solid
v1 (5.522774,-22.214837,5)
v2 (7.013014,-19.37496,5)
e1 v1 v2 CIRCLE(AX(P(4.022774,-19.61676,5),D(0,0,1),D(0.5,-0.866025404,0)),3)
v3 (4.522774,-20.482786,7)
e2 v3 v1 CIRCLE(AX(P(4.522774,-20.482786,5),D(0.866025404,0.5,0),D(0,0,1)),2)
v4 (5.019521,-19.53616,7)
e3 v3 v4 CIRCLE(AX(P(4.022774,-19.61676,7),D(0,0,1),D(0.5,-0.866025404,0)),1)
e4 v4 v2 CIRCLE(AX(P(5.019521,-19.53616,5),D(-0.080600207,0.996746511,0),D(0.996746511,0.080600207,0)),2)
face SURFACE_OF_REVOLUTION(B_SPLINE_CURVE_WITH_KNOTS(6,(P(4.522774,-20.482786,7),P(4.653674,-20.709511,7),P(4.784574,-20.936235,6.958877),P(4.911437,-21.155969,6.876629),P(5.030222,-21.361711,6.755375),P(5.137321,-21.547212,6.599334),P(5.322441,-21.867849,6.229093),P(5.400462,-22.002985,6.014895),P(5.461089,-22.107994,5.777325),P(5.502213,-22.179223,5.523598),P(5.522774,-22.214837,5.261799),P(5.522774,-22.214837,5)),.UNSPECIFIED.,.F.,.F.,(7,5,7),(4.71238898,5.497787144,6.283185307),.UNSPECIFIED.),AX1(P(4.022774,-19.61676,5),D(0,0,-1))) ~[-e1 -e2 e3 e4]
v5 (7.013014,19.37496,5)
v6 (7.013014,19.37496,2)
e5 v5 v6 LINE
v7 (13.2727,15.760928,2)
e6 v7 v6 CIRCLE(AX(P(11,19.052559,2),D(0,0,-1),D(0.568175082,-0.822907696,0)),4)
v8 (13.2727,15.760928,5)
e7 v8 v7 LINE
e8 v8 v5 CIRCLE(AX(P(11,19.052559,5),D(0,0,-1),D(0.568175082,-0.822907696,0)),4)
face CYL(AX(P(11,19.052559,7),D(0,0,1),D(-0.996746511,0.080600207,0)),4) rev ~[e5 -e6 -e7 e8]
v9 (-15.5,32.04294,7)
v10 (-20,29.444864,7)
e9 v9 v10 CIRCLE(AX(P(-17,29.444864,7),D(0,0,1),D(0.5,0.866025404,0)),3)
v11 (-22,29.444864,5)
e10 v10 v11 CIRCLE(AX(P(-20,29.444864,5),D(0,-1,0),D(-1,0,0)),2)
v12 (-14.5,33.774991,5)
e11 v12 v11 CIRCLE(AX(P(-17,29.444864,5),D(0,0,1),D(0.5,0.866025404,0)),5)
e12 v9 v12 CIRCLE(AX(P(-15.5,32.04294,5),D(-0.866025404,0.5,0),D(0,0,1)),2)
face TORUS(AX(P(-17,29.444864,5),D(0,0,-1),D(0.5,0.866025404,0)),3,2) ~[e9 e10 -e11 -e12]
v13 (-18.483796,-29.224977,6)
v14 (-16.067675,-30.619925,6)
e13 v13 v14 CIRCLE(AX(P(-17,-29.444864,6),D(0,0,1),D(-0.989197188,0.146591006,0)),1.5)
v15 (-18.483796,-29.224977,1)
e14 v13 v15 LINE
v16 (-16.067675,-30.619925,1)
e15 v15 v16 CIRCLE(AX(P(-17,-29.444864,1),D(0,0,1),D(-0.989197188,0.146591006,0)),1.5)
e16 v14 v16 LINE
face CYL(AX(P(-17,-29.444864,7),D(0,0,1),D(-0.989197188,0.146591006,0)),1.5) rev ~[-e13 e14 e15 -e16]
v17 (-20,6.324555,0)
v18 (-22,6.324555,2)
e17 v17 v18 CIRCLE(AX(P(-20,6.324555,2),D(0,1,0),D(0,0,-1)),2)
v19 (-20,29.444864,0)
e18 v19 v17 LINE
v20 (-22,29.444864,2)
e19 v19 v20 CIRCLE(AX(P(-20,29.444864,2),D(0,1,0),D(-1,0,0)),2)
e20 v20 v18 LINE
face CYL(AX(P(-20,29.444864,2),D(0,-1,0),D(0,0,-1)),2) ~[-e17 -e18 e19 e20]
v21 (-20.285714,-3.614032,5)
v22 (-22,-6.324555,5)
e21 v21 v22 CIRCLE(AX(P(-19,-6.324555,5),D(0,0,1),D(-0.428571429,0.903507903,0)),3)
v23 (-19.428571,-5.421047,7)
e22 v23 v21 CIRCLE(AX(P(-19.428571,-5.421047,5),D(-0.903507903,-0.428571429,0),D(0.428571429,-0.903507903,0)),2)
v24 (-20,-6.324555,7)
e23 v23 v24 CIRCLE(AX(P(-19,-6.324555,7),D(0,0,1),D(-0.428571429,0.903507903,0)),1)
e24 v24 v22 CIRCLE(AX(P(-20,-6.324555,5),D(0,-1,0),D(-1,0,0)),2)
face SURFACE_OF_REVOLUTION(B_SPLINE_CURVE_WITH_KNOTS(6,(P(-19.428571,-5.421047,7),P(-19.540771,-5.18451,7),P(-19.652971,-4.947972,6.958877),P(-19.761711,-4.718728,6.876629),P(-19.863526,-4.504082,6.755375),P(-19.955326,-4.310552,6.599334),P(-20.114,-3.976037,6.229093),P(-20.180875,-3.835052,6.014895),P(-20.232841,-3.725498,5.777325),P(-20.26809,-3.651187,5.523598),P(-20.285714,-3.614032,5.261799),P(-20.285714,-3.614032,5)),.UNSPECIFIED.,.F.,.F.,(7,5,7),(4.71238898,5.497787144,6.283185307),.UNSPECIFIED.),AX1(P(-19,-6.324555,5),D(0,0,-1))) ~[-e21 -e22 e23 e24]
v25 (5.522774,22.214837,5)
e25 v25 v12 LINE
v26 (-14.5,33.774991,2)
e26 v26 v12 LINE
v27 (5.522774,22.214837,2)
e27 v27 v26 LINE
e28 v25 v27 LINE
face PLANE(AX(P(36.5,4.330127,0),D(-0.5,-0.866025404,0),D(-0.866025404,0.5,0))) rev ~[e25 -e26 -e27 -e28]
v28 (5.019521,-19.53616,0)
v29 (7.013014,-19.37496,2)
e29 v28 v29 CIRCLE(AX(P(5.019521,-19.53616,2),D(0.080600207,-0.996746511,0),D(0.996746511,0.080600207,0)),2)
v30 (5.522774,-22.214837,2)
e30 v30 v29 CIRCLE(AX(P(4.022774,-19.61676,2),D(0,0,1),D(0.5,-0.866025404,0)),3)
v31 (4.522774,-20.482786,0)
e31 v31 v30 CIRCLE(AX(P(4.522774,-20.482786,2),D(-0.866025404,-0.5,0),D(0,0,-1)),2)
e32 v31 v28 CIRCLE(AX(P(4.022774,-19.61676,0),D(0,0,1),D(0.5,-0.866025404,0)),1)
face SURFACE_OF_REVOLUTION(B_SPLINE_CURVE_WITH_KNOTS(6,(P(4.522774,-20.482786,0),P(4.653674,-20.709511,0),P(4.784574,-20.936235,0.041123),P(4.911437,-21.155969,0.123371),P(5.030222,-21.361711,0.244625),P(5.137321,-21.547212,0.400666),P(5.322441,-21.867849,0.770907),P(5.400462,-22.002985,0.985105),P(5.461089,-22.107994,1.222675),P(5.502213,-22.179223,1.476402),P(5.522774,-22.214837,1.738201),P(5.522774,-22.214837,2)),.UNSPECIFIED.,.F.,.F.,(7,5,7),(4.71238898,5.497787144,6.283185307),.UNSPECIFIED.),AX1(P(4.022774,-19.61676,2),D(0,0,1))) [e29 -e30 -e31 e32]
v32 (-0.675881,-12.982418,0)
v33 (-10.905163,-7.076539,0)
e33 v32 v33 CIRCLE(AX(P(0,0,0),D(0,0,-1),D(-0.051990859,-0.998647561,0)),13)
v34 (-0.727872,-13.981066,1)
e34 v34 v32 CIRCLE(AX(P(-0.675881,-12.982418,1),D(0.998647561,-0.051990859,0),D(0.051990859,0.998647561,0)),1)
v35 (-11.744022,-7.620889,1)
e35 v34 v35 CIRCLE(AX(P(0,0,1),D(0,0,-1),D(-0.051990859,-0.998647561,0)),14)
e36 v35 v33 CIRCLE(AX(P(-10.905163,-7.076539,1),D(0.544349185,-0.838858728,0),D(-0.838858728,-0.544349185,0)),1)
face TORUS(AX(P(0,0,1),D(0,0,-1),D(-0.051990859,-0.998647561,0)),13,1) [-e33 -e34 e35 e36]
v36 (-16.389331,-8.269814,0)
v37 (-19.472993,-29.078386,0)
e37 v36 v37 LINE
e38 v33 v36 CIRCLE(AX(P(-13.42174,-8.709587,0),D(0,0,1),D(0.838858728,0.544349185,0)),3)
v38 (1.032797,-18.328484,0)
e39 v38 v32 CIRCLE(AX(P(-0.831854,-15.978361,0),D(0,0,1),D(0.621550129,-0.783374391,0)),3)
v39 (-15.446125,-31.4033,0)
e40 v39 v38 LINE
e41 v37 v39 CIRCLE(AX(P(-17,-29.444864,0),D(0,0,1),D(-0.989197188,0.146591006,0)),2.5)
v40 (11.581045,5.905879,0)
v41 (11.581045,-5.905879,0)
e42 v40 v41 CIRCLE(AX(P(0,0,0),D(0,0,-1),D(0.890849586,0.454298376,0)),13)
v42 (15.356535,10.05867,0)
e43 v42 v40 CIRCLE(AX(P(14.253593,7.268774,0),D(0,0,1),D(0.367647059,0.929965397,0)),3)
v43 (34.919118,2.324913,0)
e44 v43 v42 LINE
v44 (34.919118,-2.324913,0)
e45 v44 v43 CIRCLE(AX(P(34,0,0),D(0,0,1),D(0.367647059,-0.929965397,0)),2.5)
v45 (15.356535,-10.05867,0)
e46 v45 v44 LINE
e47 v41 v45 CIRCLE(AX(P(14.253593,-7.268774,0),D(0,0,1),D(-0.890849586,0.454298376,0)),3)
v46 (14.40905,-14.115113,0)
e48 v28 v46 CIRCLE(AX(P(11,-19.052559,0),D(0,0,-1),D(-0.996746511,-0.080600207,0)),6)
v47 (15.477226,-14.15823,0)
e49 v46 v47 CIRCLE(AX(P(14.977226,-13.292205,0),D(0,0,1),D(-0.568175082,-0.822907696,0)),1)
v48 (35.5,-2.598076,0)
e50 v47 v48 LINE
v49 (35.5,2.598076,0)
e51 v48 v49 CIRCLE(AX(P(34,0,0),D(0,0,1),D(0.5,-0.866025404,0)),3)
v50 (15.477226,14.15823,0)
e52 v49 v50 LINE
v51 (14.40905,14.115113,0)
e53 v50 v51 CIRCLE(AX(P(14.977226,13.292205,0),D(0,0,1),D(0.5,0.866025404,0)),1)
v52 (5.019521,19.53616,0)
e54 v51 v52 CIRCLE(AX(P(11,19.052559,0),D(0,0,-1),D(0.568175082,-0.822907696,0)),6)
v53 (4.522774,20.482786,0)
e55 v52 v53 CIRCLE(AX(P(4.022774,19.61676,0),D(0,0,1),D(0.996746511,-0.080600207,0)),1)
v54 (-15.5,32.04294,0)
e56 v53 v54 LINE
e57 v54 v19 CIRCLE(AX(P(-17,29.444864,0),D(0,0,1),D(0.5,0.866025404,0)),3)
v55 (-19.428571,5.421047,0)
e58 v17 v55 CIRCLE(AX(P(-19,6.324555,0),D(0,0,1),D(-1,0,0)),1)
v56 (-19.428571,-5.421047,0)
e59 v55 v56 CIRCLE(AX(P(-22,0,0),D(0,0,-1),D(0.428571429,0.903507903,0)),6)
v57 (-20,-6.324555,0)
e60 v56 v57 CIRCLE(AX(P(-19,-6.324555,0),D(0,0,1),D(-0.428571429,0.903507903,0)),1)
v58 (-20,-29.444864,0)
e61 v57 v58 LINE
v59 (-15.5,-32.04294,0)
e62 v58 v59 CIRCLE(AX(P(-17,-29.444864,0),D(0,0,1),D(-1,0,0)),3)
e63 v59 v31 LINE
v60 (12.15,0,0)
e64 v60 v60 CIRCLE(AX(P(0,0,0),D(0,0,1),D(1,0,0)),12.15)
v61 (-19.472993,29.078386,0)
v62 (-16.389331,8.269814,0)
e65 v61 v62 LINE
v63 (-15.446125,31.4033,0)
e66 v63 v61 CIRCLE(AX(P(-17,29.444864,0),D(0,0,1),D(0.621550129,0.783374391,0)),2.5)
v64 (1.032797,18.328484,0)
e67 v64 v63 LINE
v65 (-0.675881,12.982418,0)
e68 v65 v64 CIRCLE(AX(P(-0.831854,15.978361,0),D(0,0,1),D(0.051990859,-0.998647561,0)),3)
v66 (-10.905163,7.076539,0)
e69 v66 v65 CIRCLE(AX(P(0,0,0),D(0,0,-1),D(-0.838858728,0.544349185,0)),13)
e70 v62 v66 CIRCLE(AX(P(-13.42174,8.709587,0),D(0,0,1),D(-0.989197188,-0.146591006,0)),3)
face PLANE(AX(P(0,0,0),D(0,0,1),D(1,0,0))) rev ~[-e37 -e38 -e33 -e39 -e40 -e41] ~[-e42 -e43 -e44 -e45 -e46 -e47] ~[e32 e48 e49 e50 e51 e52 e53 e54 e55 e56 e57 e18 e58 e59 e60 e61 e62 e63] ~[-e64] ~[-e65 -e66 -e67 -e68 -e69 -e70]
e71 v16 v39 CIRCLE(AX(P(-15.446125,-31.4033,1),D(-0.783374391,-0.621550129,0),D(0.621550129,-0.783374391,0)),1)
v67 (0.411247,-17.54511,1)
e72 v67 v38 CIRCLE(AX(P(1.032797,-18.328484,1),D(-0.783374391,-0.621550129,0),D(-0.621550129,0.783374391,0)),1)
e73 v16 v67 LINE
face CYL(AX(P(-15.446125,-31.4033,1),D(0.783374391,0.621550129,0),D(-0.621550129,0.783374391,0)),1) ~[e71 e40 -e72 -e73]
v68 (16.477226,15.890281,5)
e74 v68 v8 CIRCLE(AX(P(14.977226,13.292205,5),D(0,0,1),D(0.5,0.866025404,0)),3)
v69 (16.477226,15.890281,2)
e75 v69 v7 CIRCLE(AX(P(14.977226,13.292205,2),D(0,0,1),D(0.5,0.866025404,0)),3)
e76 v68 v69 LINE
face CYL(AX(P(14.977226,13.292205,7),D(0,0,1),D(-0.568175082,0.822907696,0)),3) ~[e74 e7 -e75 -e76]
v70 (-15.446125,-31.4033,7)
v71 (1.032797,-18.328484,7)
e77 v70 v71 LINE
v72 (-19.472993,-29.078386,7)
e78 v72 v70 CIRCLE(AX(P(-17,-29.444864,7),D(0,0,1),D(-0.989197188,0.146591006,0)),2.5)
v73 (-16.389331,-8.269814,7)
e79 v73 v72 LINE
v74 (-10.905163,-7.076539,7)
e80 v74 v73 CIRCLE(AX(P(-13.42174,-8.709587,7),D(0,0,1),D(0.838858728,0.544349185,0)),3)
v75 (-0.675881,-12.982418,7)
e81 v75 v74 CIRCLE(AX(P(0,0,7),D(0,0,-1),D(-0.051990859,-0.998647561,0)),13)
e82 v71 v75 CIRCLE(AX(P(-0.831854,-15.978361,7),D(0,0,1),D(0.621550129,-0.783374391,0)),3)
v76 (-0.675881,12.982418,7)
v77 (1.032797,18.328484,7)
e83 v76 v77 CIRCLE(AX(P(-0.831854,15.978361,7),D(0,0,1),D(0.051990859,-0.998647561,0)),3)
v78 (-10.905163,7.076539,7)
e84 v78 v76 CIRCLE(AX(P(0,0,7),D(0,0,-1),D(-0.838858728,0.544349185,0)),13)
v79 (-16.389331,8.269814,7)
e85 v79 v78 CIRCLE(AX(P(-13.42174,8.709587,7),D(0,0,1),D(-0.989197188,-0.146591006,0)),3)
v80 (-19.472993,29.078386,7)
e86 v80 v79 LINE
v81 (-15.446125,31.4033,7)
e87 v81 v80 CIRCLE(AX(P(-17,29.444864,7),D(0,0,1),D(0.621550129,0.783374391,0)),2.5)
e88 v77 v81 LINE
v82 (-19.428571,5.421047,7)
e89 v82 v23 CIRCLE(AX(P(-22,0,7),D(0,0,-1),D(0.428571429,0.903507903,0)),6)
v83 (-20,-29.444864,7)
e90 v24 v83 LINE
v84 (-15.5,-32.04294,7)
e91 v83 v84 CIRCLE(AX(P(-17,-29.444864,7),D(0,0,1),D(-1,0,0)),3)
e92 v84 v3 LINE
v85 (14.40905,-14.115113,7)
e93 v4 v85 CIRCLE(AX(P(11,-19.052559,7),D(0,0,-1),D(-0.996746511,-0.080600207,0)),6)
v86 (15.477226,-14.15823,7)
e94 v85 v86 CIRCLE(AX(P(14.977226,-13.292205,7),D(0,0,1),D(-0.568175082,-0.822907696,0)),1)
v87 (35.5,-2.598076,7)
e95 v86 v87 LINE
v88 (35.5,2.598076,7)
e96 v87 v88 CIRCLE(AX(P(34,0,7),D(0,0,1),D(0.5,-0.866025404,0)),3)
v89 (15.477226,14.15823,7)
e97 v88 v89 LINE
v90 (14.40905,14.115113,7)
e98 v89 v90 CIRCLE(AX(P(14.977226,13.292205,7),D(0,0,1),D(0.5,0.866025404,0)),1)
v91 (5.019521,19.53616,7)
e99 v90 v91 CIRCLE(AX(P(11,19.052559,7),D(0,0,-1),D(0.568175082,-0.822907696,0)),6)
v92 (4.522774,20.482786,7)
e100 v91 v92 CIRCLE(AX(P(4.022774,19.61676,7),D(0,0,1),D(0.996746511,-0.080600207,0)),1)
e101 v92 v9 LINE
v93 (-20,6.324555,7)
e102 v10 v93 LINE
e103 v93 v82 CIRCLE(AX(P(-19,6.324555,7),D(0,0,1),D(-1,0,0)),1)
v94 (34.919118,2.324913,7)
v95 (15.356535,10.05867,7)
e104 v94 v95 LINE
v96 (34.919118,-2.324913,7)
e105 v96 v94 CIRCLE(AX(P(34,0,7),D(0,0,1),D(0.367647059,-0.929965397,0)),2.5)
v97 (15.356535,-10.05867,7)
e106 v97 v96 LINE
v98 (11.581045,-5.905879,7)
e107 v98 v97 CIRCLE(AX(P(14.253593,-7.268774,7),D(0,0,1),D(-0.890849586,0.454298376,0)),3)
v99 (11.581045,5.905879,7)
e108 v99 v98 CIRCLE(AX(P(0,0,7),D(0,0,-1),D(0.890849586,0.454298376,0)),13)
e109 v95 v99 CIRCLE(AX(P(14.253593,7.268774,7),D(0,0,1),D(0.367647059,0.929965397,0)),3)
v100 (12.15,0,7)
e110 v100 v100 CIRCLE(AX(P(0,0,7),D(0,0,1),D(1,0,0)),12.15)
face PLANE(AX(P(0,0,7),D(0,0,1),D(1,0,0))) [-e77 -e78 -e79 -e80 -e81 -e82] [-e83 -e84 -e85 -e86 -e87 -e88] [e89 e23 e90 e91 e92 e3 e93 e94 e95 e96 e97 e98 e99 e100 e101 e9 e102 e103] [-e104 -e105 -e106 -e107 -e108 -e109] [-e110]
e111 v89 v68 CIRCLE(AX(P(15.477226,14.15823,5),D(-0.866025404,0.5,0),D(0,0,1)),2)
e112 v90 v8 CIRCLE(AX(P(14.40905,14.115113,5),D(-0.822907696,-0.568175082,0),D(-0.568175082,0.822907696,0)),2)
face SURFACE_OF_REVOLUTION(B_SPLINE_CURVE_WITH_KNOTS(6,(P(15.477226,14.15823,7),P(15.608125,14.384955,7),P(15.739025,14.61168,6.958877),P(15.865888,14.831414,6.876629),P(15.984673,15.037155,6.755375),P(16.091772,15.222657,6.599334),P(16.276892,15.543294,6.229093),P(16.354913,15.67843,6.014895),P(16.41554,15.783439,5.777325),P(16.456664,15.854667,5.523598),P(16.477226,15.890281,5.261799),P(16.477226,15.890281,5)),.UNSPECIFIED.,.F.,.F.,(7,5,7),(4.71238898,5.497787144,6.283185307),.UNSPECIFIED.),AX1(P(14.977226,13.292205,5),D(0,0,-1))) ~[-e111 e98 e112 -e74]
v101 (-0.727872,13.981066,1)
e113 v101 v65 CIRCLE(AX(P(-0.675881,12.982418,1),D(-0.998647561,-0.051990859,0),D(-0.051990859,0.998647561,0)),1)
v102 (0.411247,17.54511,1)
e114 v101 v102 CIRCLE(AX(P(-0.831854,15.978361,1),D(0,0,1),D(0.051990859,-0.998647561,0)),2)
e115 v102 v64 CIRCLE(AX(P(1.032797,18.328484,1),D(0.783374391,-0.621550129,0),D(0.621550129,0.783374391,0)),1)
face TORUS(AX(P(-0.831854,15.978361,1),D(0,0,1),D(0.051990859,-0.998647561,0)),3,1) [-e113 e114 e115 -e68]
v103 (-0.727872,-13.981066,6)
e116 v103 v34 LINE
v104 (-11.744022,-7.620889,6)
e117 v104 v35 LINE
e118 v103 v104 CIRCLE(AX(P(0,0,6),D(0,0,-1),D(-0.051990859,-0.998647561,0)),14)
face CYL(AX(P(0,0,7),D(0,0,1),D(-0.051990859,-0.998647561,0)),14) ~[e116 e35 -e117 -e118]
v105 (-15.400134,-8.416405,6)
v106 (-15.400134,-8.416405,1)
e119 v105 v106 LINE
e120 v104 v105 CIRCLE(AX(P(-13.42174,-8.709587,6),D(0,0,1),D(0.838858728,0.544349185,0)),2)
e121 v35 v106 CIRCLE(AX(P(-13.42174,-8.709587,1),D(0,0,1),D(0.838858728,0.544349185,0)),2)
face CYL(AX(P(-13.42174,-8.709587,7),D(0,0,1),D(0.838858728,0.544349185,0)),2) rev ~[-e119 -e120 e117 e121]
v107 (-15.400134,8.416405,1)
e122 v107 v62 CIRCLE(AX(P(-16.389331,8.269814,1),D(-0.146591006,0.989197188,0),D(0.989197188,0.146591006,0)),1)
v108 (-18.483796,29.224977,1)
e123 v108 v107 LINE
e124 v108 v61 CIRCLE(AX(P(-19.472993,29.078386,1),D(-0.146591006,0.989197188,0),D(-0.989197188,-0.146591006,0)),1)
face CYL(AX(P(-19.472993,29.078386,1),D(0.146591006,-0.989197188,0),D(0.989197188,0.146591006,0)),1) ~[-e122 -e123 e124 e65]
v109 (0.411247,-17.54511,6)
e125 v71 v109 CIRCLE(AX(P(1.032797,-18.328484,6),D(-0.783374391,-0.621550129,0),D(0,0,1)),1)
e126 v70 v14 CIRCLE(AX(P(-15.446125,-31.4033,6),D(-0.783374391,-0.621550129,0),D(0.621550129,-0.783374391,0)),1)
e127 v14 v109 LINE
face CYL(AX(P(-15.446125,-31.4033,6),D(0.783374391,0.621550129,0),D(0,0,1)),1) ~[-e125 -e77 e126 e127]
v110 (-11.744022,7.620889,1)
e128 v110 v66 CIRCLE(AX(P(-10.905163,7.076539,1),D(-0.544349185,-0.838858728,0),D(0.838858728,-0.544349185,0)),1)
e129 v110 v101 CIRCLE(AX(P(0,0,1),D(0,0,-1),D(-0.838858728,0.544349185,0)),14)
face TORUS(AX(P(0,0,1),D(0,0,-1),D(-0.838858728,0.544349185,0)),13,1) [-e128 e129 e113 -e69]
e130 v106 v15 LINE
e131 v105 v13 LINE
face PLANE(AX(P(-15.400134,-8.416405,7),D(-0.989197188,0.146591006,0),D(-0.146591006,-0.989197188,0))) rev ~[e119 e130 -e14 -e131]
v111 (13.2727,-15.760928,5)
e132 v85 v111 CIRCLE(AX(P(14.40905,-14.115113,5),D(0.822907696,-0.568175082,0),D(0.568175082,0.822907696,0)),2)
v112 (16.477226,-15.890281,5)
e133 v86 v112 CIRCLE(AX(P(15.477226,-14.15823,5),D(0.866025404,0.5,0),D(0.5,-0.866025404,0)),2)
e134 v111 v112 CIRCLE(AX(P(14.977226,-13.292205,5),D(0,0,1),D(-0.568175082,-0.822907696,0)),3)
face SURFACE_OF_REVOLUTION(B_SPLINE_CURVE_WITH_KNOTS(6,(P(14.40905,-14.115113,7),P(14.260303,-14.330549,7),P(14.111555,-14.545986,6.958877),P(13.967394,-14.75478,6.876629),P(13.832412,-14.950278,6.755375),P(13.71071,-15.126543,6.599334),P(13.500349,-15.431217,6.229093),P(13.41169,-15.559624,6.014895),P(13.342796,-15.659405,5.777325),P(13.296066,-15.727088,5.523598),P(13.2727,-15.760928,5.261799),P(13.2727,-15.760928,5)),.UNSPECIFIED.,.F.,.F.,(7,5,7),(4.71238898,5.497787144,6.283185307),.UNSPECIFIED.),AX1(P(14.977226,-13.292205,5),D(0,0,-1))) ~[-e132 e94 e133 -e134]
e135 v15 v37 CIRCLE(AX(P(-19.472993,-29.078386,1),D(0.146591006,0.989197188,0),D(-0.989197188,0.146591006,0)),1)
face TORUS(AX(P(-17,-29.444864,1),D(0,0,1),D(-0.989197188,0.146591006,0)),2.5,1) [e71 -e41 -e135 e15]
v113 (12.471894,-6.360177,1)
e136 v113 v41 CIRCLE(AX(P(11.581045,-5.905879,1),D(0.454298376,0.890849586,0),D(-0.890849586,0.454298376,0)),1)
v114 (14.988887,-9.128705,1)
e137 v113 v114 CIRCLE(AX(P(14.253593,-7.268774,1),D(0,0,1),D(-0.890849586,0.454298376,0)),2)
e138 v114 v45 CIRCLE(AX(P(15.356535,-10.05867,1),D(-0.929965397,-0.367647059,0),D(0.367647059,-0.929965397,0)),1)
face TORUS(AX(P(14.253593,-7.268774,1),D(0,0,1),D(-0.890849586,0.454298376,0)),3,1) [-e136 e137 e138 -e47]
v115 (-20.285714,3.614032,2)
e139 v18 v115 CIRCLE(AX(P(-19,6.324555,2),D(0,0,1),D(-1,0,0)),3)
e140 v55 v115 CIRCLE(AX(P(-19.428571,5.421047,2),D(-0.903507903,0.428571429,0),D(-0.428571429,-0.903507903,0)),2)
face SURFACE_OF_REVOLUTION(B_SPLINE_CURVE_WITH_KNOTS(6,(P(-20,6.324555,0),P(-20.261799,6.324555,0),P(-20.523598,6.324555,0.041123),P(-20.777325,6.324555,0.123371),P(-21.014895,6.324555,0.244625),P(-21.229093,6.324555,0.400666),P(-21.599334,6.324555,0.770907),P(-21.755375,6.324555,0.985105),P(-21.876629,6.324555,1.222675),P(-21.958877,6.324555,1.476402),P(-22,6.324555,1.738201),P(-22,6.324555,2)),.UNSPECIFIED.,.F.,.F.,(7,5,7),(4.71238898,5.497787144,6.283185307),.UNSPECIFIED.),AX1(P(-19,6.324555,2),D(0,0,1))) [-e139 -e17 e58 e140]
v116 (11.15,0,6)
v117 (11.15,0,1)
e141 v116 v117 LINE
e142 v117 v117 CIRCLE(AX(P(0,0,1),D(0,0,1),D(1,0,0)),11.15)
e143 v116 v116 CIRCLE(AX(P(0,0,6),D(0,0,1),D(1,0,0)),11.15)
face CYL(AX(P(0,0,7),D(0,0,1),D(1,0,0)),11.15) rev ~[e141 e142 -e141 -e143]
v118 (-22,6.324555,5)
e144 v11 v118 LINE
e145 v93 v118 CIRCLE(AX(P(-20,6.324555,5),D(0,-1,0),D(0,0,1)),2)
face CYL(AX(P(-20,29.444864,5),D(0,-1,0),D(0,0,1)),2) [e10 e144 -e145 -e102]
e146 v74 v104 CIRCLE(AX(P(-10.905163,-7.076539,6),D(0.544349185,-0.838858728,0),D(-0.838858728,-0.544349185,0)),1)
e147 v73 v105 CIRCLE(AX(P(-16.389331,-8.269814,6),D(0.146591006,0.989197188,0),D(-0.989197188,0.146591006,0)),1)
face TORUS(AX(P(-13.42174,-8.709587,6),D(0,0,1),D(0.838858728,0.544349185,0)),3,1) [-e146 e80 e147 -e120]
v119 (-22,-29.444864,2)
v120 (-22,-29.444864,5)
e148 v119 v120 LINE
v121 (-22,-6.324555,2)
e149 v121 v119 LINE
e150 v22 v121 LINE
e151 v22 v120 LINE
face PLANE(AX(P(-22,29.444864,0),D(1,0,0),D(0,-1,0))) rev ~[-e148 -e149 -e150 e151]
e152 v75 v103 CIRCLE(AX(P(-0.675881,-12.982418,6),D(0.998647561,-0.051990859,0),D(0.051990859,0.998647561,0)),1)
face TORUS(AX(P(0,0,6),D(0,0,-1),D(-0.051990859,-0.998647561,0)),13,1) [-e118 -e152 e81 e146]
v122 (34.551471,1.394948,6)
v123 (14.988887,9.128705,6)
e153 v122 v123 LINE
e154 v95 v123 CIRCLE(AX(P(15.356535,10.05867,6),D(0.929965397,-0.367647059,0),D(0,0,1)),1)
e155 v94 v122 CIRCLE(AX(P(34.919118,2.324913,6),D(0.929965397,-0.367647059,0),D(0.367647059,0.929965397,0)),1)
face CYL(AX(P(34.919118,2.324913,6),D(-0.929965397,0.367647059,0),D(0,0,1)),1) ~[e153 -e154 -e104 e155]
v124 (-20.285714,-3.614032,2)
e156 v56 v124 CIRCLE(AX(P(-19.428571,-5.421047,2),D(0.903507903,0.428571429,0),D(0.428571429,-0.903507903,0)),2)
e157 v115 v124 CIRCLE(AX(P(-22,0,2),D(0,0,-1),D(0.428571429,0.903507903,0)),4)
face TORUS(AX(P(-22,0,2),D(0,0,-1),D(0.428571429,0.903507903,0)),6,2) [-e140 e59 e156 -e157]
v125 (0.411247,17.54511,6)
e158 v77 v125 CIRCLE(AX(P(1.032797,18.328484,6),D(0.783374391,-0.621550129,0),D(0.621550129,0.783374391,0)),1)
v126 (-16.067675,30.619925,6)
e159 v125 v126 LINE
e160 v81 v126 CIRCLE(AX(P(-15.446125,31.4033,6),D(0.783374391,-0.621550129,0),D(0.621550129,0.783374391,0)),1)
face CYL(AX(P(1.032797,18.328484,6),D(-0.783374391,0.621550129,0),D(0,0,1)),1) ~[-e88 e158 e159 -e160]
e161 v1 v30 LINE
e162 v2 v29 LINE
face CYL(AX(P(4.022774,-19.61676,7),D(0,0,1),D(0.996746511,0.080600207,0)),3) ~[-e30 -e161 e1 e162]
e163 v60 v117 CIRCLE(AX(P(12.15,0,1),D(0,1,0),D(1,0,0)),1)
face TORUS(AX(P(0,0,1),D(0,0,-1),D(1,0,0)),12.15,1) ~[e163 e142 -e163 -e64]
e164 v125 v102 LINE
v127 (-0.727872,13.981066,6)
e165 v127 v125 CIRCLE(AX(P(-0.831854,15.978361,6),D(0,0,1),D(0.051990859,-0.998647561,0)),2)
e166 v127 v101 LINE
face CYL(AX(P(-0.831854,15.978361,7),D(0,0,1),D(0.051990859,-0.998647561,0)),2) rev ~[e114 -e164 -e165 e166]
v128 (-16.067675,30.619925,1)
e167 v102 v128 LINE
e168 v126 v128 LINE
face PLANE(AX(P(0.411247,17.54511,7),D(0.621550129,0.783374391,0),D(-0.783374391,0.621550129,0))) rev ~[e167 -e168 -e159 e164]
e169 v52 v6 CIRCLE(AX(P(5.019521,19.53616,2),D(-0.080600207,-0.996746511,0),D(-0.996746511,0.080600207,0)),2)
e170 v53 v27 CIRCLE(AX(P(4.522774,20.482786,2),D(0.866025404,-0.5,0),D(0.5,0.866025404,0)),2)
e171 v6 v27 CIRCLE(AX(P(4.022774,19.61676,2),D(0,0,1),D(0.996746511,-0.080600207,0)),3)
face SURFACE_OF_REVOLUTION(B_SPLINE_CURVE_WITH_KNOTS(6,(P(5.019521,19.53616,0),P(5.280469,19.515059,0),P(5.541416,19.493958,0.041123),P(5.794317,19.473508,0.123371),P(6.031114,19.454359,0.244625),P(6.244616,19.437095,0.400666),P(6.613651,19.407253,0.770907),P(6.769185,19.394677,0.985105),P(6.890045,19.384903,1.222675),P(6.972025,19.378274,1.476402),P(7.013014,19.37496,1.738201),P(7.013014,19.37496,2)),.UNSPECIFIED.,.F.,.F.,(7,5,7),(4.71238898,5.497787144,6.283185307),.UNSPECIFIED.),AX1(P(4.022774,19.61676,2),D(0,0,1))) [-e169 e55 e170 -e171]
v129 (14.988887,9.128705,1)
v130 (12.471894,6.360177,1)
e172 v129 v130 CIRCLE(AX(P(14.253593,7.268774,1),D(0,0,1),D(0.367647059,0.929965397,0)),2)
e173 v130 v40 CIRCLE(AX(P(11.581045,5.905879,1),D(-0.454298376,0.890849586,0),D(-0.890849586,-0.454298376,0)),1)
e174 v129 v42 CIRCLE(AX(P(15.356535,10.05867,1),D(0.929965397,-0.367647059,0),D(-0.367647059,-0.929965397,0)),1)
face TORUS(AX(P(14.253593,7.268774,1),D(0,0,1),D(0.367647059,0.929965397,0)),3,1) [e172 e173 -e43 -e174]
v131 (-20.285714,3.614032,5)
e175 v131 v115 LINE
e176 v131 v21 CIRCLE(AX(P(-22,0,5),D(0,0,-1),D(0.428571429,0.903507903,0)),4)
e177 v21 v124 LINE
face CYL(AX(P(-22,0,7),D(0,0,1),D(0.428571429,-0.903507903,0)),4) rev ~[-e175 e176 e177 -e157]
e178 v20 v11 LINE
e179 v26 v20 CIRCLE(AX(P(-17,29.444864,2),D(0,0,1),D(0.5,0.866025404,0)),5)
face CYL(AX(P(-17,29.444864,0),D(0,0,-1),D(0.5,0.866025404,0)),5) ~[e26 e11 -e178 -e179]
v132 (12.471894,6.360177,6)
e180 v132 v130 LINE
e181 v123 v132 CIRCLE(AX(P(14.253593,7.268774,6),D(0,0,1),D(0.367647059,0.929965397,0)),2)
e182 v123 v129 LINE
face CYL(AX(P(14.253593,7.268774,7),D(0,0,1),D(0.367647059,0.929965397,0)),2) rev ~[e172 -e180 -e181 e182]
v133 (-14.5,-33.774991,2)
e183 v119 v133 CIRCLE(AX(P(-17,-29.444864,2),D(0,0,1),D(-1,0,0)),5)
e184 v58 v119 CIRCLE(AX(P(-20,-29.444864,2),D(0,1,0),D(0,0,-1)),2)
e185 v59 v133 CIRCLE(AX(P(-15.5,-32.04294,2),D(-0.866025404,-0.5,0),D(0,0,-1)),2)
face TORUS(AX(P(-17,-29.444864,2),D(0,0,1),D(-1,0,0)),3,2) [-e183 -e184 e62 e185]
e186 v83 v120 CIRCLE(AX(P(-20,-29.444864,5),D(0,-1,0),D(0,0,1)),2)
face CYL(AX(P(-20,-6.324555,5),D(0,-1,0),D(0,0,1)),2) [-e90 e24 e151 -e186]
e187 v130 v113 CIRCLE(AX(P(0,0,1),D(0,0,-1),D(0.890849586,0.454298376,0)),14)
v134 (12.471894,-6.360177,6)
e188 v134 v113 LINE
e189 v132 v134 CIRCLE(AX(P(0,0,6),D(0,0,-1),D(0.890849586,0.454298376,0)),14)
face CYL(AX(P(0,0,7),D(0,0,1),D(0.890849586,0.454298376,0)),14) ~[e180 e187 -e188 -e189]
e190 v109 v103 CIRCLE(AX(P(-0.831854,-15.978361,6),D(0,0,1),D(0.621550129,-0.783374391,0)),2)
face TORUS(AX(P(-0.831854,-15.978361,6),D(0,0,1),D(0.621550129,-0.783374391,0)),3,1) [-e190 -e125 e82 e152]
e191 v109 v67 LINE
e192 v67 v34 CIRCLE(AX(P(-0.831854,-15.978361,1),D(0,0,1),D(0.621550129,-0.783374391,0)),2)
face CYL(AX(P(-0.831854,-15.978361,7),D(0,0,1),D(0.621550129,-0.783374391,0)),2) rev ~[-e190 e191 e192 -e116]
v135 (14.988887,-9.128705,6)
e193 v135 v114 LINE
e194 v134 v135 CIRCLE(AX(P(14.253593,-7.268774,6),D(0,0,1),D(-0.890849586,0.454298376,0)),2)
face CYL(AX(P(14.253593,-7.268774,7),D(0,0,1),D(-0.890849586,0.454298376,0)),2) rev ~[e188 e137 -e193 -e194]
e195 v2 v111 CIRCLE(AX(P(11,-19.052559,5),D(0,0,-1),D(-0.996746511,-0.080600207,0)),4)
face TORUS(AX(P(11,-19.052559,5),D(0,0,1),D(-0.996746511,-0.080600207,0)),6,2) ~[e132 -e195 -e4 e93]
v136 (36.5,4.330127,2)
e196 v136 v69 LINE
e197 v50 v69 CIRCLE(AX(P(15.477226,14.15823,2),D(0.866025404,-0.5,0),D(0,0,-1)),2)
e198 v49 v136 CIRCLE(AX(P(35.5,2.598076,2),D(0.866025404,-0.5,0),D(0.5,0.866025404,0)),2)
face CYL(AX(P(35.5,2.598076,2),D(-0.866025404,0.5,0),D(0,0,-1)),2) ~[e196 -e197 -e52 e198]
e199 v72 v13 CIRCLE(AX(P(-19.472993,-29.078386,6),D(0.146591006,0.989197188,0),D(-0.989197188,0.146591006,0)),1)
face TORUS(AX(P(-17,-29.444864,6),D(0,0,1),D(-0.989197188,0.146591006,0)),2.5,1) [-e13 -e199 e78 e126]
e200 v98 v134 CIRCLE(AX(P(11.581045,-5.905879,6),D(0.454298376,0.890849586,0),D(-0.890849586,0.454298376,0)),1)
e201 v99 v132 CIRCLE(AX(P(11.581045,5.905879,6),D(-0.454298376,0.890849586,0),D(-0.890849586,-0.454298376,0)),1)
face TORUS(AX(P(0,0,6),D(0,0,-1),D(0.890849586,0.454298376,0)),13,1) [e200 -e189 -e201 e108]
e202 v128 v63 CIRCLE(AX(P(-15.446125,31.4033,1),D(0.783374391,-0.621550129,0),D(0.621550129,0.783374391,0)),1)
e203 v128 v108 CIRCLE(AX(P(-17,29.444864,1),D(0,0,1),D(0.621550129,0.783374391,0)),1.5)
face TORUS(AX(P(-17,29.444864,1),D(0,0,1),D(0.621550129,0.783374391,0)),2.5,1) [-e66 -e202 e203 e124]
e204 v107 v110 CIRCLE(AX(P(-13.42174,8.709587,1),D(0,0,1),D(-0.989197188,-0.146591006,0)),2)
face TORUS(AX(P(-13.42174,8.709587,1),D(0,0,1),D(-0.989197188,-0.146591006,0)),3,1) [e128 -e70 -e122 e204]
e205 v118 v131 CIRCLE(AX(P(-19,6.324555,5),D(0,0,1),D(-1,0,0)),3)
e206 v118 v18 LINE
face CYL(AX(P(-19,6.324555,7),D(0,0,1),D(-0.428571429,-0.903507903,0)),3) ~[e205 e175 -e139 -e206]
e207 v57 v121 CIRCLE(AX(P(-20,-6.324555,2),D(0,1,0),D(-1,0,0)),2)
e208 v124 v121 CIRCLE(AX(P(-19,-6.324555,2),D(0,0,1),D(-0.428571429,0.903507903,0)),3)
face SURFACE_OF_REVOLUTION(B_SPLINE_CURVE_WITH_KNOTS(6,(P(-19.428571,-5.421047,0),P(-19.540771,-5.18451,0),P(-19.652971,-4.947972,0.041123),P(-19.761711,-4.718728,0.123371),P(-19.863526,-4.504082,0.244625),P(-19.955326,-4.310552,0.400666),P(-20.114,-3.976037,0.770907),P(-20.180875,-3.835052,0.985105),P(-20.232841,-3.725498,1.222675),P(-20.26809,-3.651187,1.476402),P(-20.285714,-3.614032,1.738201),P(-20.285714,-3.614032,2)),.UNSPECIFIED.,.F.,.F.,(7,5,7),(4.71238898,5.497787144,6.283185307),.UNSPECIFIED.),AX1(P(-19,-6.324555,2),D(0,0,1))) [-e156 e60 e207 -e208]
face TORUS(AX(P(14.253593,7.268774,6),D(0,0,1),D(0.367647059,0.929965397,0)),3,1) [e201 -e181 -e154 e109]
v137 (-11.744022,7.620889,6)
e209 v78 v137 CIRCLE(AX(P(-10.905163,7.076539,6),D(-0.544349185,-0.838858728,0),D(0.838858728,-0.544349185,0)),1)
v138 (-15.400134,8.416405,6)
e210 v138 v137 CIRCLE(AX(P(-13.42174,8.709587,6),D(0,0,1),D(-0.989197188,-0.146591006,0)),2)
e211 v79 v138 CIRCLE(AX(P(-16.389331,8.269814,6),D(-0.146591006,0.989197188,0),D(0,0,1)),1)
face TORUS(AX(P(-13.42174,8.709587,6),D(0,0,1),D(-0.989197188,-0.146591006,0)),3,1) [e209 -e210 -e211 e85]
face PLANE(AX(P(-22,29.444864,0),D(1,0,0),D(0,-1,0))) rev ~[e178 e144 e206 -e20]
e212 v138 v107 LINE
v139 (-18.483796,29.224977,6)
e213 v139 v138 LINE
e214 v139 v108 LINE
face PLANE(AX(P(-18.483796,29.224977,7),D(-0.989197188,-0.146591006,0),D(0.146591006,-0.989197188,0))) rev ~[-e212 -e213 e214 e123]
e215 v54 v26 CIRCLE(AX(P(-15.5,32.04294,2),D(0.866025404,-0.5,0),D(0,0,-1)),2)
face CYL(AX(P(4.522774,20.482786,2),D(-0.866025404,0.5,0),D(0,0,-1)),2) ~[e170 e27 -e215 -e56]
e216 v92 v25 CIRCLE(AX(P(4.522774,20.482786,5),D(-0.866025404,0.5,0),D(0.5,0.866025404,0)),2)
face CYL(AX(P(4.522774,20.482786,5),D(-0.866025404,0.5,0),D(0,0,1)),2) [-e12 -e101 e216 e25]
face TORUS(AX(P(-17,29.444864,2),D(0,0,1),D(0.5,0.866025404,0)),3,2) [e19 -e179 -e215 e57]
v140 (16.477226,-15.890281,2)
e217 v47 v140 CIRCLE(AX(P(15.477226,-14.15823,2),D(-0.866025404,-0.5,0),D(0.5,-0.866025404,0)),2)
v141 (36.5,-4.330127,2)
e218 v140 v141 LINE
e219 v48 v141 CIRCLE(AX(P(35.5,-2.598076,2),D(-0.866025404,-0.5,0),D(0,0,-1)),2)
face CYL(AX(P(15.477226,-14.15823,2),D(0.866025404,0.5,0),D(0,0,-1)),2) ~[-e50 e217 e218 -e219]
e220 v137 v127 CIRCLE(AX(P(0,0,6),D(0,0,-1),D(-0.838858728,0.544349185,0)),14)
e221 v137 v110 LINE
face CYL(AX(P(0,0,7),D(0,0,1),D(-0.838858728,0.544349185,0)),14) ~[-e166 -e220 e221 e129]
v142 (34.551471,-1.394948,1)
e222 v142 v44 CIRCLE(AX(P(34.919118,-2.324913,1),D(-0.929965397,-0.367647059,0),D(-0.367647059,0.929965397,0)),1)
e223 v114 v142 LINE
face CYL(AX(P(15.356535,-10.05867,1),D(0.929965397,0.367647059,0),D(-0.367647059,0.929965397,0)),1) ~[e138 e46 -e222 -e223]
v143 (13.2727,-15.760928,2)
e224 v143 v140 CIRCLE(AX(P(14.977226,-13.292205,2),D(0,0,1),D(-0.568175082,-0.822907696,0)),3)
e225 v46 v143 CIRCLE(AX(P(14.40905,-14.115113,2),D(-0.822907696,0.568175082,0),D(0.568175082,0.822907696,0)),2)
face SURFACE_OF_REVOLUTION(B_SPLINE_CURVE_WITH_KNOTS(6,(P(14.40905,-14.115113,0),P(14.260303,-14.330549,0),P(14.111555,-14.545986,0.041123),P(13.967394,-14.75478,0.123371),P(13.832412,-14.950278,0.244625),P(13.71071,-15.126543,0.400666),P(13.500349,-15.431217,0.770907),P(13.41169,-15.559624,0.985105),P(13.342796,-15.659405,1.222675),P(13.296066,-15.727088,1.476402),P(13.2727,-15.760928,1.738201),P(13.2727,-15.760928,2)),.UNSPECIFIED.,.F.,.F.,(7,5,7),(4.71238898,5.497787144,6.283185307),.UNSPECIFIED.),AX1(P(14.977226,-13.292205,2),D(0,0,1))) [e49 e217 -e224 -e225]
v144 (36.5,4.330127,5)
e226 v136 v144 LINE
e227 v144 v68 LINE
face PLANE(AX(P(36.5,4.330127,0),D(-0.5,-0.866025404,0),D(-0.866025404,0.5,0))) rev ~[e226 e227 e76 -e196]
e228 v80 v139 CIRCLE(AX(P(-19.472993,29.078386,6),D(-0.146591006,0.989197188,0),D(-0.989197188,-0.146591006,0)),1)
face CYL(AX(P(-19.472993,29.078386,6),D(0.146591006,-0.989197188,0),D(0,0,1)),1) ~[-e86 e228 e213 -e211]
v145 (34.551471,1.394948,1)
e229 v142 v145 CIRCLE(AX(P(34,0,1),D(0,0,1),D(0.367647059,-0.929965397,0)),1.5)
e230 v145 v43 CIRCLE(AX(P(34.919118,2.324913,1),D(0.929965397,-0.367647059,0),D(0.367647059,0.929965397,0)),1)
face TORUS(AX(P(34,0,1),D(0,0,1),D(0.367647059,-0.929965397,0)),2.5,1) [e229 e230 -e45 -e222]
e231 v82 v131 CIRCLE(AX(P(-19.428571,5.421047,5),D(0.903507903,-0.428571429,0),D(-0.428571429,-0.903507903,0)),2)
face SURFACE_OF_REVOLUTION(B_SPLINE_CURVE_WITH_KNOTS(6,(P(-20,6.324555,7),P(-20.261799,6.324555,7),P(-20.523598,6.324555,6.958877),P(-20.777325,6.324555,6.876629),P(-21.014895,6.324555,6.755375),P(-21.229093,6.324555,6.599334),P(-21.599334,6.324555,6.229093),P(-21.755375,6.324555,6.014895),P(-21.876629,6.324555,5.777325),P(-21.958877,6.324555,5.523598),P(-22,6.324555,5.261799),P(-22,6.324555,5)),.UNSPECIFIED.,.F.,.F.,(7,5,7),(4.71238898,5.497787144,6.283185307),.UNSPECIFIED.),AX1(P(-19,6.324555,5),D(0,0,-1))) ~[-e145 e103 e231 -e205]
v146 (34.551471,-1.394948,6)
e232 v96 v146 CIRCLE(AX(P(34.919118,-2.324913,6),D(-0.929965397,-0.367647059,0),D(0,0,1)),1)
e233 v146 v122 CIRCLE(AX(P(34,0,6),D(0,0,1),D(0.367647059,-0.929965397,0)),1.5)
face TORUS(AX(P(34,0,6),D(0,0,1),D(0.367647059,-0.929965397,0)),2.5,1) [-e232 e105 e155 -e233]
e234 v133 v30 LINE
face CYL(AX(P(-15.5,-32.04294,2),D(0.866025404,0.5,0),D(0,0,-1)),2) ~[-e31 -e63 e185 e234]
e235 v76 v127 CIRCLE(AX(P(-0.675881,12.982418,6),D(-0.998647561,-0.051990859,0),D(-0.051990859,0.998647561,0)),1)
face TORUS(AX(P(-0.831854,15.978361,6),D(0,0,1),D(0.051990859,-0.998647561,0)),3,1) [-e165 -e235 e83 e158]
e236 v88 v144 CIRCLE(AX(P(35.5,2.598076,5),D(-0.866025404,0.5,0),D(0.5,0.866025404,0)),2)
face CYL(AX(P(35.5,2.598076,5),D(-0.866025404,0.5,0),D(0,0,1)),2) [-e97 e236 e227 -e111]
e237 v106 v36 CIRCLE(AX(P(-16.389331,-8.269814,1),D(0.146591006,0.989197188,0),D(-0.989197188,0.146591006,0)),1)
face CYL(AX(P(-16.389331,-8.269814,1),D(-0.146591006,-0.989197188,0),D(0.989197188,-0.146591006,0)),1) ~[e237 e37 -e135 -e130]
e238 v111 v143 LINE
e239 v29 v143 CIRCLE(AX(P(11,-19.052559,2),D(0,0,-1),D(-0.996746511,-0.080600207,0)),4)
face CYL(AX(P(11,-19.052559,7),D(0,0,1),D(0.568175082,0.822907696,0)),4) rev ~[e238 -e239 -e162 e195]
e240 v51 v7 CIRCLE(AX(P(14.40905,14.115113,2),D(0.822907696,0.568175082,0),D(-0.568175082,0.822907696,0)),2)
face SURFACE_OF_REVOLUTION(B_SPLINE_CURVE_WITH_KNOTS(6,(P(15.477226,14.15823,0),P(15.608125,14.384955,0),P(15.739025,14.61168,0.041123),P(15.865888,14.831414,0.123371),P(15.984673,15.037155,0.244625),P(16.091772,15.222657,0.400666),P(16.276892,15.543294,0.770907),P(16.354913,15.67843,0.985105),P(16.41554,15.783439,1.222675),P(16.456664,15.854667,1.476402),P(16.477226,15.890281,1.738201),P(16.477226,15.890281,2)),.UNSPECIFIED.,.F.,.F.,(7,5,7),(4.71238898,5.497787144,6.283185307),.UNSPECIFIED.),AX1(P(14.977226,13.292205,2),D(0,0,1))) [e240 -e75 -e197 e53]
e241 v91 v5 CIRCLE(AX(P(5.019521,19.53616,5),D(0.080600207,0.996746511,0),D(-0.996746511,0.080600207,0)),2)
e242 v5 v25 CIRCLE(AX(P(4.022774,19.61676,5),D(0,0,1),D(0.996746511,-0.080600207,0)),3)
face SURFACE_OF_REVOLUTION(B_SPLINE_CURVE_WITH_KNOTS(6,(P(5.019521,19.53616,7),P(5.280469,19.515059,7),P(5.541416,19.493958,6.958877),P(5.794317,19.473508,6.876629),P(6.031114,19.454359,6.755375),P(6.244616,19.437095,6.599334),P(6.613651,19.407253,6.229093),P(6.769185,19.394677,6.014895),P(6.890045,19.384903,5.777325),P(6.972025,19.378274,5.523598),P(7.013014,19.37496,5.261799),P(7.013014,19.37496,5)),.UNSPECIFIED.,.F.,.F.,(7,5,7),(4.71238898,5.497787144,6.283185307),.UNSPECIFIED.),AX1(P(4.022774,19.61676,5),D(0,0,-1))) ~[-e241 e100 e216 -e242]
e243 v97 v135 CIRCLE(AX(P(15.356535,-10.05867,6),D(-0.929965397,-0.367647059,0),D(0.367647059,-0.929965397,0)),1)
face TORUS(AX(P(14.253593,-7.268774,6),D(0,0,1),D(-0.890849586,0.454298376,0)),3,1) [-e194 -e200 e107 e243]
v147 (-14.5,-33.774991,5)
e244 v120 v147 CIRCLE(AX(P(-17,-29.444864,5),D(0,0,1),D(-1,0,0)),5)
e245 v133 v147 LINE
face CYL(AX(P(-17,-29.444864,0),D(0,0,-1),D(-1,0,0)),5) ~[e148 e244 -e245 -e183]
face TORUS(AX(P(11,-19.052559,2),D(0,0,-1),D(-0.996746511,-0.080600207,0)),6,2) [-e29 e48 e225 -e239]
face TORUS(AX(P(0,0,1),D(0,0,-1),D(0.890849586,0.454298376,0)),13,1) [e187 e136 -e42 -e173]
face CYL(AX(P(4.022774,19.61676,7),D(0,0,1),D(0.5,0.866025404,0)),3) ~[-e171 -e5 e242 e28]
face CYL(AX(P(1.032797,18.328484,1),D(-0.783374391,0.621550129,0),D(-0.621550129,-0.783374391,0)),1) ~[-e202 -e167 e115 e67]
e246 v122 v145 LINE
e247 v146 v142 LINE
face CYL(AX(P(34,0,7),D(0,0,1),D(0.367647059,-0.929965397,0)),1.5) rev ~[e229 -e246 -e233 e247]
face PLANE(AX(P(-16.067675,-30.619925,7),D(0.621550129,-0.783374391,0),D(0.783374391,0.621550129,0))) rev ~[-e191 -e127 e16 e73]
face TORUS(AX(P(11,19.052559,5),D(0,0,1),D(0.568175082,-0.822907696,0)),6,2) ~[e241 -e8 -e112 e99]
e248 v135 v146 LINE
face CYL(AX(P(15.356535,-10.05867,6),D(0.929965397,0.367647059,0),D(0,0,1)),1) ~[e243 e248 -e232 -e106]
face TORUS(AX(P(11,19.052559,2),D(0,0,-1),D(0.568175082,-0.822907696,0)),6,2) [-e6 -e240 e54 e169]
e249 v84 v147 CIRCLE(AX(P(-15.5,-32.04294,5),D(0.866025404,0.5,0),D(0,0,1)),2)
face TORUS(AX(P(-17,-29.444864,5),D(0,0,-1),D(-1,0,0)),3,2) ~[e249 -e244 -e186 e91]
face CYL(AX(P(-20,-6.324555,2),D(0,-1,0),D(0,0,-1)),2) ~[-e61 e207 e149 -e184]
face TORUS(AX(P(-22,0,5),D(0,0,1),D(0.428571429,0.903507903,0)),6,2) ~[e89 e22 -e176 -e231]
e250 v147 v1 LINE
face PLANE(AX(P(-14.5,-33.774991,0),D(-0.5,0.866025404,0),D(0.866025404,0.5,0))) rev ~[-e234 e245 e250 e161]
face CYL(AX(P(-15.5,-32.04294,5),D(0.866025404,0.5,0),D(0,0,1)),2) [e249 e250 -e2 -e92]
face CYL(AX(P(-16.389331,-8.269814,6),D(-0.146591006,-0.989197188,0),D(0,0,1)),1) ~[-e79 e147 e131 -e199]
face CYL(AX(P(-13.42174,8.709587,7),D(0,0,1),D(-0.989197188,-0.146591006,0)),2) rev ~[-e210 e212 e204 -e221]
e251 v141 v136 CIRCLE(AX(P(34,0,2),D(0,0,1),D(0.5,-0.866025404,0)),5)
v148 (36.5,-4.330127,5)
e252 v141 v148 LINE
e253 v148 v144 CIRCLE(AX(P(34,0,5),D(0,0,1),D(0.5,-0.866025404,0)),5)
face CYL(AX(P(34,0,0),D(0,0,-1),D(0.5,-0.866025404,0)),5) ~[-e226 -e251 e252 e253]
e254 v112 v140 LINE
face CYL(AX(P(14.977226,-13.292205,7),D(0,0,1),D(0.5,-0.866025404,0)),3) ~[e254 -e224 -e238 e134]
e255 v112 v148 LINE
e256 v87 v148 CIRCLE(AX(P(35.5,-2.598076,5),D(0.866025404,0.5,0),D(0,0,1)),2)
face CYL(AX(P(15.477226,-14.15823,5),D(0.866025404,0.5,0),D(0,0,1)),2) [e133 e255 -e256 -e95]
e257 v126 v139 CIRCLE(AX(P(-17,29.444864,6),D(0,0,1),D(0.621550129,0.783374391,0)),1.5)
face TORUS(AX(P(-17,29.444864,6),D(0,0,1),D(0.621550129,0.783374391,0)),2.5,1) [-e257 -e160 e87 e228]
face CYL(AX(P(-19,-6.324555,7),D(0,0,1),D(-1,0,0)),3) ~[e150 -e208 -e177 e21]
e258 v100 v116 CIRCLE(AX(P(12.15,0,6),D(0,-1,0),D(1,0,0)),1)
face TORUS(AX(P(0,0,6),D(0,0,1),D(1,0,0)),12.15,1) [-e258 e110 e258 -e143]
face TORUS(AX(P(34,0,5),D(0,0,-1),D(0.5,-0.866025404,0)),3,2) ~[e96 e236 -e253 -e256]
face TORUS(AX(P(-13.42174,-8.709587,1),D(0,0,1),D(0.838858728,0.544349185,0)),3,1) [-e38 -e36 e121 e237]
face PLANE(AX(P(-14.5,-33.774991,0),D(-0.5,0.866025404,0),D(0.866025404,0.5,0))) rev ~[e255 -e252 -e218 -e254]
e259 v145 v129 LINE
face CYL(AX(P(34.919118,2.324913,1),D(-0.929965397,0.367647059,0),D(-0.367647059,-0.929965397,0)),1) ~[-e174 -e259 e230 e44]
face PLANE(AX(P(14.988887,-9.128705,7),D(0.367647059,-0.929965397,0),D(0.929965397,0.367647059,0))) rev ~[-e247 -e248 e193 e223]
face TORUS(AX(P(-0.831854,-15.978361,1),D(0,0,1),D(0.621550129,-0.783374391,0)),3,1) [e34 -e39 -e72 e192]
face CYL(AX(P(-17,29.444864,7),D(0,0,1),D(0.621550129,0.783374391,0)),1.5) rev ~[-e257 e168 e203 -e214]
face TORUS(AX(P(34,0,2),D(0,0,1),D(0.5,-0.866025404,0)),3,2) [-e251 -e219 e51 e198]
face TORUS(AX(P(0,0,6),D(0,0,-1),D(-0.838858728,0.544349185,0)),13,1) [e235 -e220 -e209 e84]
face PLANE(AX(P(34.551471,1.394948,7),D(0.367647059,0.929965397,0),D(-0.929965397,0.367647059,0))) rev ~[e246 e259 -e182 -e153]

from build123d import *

# Parameters (mm, degrees)
F1_DEPTH = 7
F2_R     = 11.15
F3_DEPTH = 7.001
F6_DEPTH = 7.001
F7_R     = 2
F8_R     = 1
F9_DEPTH = 7.001
F10_R    = 1
F11_R    = 1


with BuildPart() as f1:
    # F0 (on Top) → F1 (new body)
    with BuildSketch(Plane.XY):
        with BuildLine():
            Line((-22, 29.4448637287), (-22, -29.4448637287))
            ThreePointArc((-22, -29.4448637287), (-19.5, -33.7749907476), (-14.5, -33.7749907476))
            Line((-14.5, -33.7749907476), (36.5, -4.3301270189))
            ThreePointArc((36.5, -4.3301270189), (39, 0), (36.5, 4.3301270189))
            Line((36.5, 4.3301270189), (-14.5, 33.7749907476))
            ThreePointArc((-14.5, 33.7749907476), (-19.5, 33.7749907476), (-22, 29.4448637287))
        make_face()
    extrude(amount=F1_DEPTH)

    # F2 (on face) → F3 (cut, through all)
    with BuildSketch(Plane.XY.offset(7)):
        Circle(F2_R)
    extrude(amount=-F3_DEPTH, mode=Mode.SUBTRACT)

    # F5 (on face) → F6 (cut, through all)
    with BuildSketch(Plane.XY.offset(7)):
        with BuildLine():
            ThreePointArc((-22, -6.3245553203), (-21.5354627642, -4.7209878689), (-20.2857142857, -3.6140316116))
            ThreePointArc((-20.2857142857, -3.6140316116), (-18, 0), (-20.2857142857, 3.6140316116))
            ThreePointArc((-20.2857142857, 3.6140316116), (-21.5354627642, 4.7209878689), (-22, 6.3245553203))
            Line((-22, 6.3245553203), (-22, -6.3245553203))
        make_face()
        with BuildLine():
            ThreePointArc((16.4772255751, -15.8902812231), (14.8562268075, -16.2897639016), (13.2727003286, -15.7609280995))
            ThreePointArc((13.2727003286, -15.7609280995), (9, -15.5884572681), (7.0130139571, -19.3749597112))
            ThreePointArc((7.0130139571, -19.3749597112), (6.6792359567, -21.0107517705), (5.5227744249, -22.2148365434))
            Line((5.5227744249, -22.2148365434), (16.4772255751, -15.8902812231))
        make_face()
        with BuildLine():
            ThreePointArc((5.5227744249, 22.2148365434), (6.6792359567, 21.0107517705), (7.0130139571, 19.3749597112))
            ThreePointArc((7.0130139571, 19.3749597112), (9, 15.5884572681), (13.2727003286, 15.7609280995))
            ThreePointArc((13.2727003286, 15.7609280995), (14.8562268075, 16.2897639016), (16.4772255751, 15.8902812231))
            Line((16.4772255751, 15.8902812231), (5.5227744249, 22.2148365434))
        make_face()
    extrude(amount=-F6_DEPTH, mode=Mode.SUBTRACT)

    # F7
    f7_edges = [f1.edges().sort_by_distance(p)[0] for p in [
        (-4.488613, -27.994914, 0),
        (5.522774, -22.214837, 3.5),
        (-4.488613, -27.994914, 7),
        (-14.5, -33.774991, 3.5),
        (6.679236, -21.010752, 7),
        (6.679236, -21.010752, 0),
        (7.013014, -19.37496, 3.5),
        (9, -15.588457, 7),
        (9, -15.588457, 0),
        (13.2727, -15.760928, 3.5),
        (14.856227, -16.289764, 7),
        (14.856227, -16.289764, 0),
        (16.477226, -15.890281, 3.5),
        (26.488613, -10.110204, 0),
        (36.5, -4.330127, 3.5),
        (26.488613, -10.110204, 7),
        (36.5, 4.330127, 3.5),
        (39, 0, 0),
        (39, 0, 7),
        (-22, -29.444864, 3.5),
        (-19.5, -33.774991, 0),
        (-19.5, -33.774991, 7),
        (-22, -17.88471, 0),
        (-22, -17.88471, 7),
        (-22, -6.324555, 3.5),
        (-21.535463, -4.720988, 7),
        (-20.285714, -3.614032, 3.5),
        (-21.535463, -4.720988, 0),
        (-18, 0, 7),
        (-20.285714, 3.614032, 3.5),
        (-18, 0, 0),
        (-21.535463, 4.720988, 7),
        (-22, 6.324555, 3.5),
        (-21.535463, 4.720988, 0),
        (-22, 17.88471, 0),
        (-22, 17.88471, 7),
        (-22, 29.444864, 3.5),
        (-14.5, 33.774991, 3.5),
        (-19.5, 33.774991, 0),
        (-19.5, 33.774991, 7),
        (-4.488613, 27.994914, 0),
        (-4.488613, 27.994914, 7),
        (5.522774, 22.214837, 3.5),
        (9, 15.588457, 7),
        (13.2727, 15.760928, 3.5),
        (9, 15.588457, 0),
        (7.013014, 19.37496, 3.5),
        (14.856227, 16.289764, 7),
        (16.477226, 15.890281, 3.5),
        (14.856227, 16.289764, 0),
        (26.488613, 10.110204, 0),
        (26.488613, 10.110204, 7),
        (6.679236, 21.010752, 7),
        (6.679236, 21.010752, 0),
    ]]
    fillet(f7_edges, radius=F7_R)

    # F8
    f8_edges = [f1.edges().sort_by_distance(p)[0] for p in [
        (-11.15, 0, 7),
        (11.15, 0, 3.5),
        (-11.15, 0, 0),
    ]]
    fillet(f8_edges, radius=F8_R)

    # F4 (on face) → F9 (cut, through all)
    with BuildSketch(Plane.XY.offset(7)):
        with BuildLine():
            ThreePointArc((12.4718942095, 6.3601772638), (14, 0), (12.4718942095, -6.3601772638))
            ThreePointArc((12.4718942095, -6.3601772638), (12.7737531616, -8.6141635212), (14.9888874999, -9.1287048104))
            Line((14.9888874999, -9.1287048104), (34.5514705882, -1.3949480959))
            ThreePointArc((34.5514705882, -1.3949480959), (35.5, 0), (34.5514705882, 1.3949480959))
            Line((34.5514705882, 1.3949480959), (14.9888874999, 9.1287048104))
            ThreePointArc((14.9888874999, 9.1287048104), (12.7737531616, 8.6141635212), (12.4718942095, 6.3601772638))
        make_face()
        with BuildLine():
            Line((0.4112465195, 17.5451097546), (-16.0676748061, 30.6199253155))
            ThreePointArc((-16.0676748061, 30.6199253155), (-17.75, 30.7439018343), (-18.4837957821, 29.2249772196))
            Line((-18.4837957821, 29.2249772196), (-15.4001340194, 8.4164049442))
            ThreePointArc((-15.4001340194, 8.4164049442), (-13.8469610225, 6.755312979), (-11.7440221878, 7.6208885868))
            ThreePointArc((-11.7440221878, 7.6208885868), (-7, 12.124355653), (-0.7278720217, 13.9810658506))
            ThreePointArc((-0.7278720217, 13.9810658506), (1.0732078609, 15.3694765002), (0.4112465195, 17.5451097546))
        make_face()
        with BuildLine():
            Line((-15.4001340194, -8.4164049442), (-18.4837957821, -29.2249772196))
            ThreePointArc((-18.4837957821, -29.2249772196), (-17.75, -30.7439018343), (-16.0676748061, -30.6199253155))
            Line((-16.0676748061, -30.6199253155), (0.4112465195, -17.5451097546))
            ThreePointArc((0.4112465195, -17.5451097546), (1.0732078609, -15.3694765002), (-0.7278720217, -13.9810658506))
            ThreePointArc((-0.7278720217, -13.9810658506), (-7, -12.124355653), (-11.7440221878, -7.6208885868))
            ThreePointArc((-11.7440221878, -7.6208885868), (-13.8469610225, -6.755312979), (-15.4001340194, -8.4164049442))
        make_face()
    extrude(amount=-F9_DEPTH, mode=Mode.SUBTRACT)

    # F10
    f10_edges = [f1.edges().sort_by_distance(p)[0] for p in [
        (-17.75, 30.743902, 7),
        (-18.483796, 29.224977, 3.5),
        (-17.75, 30.743902, 0),
        (-16.067675, 30.619925, 3.5),
        (-7.828214, 24.082518, 7),
        (-7.828214, 24.082518, 0),
        (0.411247, 17.54511, 3.5),
        (-16.941965, 18.820691, 7),
        (-15.400134, 8.416405, 3.5),
        (-16.941965, 18.820691, 0),
        (-13.846961, 6.755313, 7),
        (-11.744022, 7.620889, 3.5),
        (-13.846961, 6.755313, 0),
        (-7, 12.124356, 7),
        (-0.727872, 13.981066, 3.5),
        (-7, 12.124356, 0),
        (1.073208, 15.369477, 7),
        (1.073208, 15.369477, 0),
    ]]
    fillet(f10_edges, radius=F10_R)

    # F11
    f11_edges = [f1.edges().sort_by_distance(p)[0] for p in [
        (-17.75, -30.743902, 7),
        (-16.067675, -30.619925, 3.5),
        (-17.75, -30.743902, 0),
        (-18.483796, -29.224977, 3.5),
        (-7.828214, -24.082518, 7),
        (0.411247, -17.54511, 3.5),
        (-7.828214, -24.082518, 0),
        (-16.941965, -18.820691, 7),
        (-16.941965, -18.820691, 0),
        (-15.400134, -8.416405, 3.5),
        (-13.846961, -6.755313, 7),
        (-13.846961, -6.755313, 0),
        (-11.744022, -7.620889, 3.5),
        (12.773753, -8.614164, 7),
        (14.988887, -9.128705, 3.5),
        (12.773753, -8.614164, 0),
        (12.471894, -6.360177, 3.5),
        (14, 0, 7),
        (14, 0, 0),
        (12.471894, 6.360177, 3.5),
        (12.773753, 8.614164, 7),
        (12.773753, 8.614164, 0),
        (14.988887, 9.128705, 3.5),
        (1.073208, -15.369477, 7),
        (-0.727872, -13.981066, 3.5),
        (1.073208, -15.369477, 0),
        (-7, -12.124356, 7),
        (-7, -12.124356, 0),
        (24.770179, 5.261826, 7),
        (24.770179, 5.261826, 0),
        (34.551471, 1.394948, 3.5),
        (35.5, 0, 7),
        (35.5, 0, 0),
        (34.551471, -1.394948, 3.5),
        (24.770179, -5.261826, 7),
        (24.770179, -5.261826, 0),
    ]]
    fillet(f11_edges, radius=F11_R)


solid = f1.part
